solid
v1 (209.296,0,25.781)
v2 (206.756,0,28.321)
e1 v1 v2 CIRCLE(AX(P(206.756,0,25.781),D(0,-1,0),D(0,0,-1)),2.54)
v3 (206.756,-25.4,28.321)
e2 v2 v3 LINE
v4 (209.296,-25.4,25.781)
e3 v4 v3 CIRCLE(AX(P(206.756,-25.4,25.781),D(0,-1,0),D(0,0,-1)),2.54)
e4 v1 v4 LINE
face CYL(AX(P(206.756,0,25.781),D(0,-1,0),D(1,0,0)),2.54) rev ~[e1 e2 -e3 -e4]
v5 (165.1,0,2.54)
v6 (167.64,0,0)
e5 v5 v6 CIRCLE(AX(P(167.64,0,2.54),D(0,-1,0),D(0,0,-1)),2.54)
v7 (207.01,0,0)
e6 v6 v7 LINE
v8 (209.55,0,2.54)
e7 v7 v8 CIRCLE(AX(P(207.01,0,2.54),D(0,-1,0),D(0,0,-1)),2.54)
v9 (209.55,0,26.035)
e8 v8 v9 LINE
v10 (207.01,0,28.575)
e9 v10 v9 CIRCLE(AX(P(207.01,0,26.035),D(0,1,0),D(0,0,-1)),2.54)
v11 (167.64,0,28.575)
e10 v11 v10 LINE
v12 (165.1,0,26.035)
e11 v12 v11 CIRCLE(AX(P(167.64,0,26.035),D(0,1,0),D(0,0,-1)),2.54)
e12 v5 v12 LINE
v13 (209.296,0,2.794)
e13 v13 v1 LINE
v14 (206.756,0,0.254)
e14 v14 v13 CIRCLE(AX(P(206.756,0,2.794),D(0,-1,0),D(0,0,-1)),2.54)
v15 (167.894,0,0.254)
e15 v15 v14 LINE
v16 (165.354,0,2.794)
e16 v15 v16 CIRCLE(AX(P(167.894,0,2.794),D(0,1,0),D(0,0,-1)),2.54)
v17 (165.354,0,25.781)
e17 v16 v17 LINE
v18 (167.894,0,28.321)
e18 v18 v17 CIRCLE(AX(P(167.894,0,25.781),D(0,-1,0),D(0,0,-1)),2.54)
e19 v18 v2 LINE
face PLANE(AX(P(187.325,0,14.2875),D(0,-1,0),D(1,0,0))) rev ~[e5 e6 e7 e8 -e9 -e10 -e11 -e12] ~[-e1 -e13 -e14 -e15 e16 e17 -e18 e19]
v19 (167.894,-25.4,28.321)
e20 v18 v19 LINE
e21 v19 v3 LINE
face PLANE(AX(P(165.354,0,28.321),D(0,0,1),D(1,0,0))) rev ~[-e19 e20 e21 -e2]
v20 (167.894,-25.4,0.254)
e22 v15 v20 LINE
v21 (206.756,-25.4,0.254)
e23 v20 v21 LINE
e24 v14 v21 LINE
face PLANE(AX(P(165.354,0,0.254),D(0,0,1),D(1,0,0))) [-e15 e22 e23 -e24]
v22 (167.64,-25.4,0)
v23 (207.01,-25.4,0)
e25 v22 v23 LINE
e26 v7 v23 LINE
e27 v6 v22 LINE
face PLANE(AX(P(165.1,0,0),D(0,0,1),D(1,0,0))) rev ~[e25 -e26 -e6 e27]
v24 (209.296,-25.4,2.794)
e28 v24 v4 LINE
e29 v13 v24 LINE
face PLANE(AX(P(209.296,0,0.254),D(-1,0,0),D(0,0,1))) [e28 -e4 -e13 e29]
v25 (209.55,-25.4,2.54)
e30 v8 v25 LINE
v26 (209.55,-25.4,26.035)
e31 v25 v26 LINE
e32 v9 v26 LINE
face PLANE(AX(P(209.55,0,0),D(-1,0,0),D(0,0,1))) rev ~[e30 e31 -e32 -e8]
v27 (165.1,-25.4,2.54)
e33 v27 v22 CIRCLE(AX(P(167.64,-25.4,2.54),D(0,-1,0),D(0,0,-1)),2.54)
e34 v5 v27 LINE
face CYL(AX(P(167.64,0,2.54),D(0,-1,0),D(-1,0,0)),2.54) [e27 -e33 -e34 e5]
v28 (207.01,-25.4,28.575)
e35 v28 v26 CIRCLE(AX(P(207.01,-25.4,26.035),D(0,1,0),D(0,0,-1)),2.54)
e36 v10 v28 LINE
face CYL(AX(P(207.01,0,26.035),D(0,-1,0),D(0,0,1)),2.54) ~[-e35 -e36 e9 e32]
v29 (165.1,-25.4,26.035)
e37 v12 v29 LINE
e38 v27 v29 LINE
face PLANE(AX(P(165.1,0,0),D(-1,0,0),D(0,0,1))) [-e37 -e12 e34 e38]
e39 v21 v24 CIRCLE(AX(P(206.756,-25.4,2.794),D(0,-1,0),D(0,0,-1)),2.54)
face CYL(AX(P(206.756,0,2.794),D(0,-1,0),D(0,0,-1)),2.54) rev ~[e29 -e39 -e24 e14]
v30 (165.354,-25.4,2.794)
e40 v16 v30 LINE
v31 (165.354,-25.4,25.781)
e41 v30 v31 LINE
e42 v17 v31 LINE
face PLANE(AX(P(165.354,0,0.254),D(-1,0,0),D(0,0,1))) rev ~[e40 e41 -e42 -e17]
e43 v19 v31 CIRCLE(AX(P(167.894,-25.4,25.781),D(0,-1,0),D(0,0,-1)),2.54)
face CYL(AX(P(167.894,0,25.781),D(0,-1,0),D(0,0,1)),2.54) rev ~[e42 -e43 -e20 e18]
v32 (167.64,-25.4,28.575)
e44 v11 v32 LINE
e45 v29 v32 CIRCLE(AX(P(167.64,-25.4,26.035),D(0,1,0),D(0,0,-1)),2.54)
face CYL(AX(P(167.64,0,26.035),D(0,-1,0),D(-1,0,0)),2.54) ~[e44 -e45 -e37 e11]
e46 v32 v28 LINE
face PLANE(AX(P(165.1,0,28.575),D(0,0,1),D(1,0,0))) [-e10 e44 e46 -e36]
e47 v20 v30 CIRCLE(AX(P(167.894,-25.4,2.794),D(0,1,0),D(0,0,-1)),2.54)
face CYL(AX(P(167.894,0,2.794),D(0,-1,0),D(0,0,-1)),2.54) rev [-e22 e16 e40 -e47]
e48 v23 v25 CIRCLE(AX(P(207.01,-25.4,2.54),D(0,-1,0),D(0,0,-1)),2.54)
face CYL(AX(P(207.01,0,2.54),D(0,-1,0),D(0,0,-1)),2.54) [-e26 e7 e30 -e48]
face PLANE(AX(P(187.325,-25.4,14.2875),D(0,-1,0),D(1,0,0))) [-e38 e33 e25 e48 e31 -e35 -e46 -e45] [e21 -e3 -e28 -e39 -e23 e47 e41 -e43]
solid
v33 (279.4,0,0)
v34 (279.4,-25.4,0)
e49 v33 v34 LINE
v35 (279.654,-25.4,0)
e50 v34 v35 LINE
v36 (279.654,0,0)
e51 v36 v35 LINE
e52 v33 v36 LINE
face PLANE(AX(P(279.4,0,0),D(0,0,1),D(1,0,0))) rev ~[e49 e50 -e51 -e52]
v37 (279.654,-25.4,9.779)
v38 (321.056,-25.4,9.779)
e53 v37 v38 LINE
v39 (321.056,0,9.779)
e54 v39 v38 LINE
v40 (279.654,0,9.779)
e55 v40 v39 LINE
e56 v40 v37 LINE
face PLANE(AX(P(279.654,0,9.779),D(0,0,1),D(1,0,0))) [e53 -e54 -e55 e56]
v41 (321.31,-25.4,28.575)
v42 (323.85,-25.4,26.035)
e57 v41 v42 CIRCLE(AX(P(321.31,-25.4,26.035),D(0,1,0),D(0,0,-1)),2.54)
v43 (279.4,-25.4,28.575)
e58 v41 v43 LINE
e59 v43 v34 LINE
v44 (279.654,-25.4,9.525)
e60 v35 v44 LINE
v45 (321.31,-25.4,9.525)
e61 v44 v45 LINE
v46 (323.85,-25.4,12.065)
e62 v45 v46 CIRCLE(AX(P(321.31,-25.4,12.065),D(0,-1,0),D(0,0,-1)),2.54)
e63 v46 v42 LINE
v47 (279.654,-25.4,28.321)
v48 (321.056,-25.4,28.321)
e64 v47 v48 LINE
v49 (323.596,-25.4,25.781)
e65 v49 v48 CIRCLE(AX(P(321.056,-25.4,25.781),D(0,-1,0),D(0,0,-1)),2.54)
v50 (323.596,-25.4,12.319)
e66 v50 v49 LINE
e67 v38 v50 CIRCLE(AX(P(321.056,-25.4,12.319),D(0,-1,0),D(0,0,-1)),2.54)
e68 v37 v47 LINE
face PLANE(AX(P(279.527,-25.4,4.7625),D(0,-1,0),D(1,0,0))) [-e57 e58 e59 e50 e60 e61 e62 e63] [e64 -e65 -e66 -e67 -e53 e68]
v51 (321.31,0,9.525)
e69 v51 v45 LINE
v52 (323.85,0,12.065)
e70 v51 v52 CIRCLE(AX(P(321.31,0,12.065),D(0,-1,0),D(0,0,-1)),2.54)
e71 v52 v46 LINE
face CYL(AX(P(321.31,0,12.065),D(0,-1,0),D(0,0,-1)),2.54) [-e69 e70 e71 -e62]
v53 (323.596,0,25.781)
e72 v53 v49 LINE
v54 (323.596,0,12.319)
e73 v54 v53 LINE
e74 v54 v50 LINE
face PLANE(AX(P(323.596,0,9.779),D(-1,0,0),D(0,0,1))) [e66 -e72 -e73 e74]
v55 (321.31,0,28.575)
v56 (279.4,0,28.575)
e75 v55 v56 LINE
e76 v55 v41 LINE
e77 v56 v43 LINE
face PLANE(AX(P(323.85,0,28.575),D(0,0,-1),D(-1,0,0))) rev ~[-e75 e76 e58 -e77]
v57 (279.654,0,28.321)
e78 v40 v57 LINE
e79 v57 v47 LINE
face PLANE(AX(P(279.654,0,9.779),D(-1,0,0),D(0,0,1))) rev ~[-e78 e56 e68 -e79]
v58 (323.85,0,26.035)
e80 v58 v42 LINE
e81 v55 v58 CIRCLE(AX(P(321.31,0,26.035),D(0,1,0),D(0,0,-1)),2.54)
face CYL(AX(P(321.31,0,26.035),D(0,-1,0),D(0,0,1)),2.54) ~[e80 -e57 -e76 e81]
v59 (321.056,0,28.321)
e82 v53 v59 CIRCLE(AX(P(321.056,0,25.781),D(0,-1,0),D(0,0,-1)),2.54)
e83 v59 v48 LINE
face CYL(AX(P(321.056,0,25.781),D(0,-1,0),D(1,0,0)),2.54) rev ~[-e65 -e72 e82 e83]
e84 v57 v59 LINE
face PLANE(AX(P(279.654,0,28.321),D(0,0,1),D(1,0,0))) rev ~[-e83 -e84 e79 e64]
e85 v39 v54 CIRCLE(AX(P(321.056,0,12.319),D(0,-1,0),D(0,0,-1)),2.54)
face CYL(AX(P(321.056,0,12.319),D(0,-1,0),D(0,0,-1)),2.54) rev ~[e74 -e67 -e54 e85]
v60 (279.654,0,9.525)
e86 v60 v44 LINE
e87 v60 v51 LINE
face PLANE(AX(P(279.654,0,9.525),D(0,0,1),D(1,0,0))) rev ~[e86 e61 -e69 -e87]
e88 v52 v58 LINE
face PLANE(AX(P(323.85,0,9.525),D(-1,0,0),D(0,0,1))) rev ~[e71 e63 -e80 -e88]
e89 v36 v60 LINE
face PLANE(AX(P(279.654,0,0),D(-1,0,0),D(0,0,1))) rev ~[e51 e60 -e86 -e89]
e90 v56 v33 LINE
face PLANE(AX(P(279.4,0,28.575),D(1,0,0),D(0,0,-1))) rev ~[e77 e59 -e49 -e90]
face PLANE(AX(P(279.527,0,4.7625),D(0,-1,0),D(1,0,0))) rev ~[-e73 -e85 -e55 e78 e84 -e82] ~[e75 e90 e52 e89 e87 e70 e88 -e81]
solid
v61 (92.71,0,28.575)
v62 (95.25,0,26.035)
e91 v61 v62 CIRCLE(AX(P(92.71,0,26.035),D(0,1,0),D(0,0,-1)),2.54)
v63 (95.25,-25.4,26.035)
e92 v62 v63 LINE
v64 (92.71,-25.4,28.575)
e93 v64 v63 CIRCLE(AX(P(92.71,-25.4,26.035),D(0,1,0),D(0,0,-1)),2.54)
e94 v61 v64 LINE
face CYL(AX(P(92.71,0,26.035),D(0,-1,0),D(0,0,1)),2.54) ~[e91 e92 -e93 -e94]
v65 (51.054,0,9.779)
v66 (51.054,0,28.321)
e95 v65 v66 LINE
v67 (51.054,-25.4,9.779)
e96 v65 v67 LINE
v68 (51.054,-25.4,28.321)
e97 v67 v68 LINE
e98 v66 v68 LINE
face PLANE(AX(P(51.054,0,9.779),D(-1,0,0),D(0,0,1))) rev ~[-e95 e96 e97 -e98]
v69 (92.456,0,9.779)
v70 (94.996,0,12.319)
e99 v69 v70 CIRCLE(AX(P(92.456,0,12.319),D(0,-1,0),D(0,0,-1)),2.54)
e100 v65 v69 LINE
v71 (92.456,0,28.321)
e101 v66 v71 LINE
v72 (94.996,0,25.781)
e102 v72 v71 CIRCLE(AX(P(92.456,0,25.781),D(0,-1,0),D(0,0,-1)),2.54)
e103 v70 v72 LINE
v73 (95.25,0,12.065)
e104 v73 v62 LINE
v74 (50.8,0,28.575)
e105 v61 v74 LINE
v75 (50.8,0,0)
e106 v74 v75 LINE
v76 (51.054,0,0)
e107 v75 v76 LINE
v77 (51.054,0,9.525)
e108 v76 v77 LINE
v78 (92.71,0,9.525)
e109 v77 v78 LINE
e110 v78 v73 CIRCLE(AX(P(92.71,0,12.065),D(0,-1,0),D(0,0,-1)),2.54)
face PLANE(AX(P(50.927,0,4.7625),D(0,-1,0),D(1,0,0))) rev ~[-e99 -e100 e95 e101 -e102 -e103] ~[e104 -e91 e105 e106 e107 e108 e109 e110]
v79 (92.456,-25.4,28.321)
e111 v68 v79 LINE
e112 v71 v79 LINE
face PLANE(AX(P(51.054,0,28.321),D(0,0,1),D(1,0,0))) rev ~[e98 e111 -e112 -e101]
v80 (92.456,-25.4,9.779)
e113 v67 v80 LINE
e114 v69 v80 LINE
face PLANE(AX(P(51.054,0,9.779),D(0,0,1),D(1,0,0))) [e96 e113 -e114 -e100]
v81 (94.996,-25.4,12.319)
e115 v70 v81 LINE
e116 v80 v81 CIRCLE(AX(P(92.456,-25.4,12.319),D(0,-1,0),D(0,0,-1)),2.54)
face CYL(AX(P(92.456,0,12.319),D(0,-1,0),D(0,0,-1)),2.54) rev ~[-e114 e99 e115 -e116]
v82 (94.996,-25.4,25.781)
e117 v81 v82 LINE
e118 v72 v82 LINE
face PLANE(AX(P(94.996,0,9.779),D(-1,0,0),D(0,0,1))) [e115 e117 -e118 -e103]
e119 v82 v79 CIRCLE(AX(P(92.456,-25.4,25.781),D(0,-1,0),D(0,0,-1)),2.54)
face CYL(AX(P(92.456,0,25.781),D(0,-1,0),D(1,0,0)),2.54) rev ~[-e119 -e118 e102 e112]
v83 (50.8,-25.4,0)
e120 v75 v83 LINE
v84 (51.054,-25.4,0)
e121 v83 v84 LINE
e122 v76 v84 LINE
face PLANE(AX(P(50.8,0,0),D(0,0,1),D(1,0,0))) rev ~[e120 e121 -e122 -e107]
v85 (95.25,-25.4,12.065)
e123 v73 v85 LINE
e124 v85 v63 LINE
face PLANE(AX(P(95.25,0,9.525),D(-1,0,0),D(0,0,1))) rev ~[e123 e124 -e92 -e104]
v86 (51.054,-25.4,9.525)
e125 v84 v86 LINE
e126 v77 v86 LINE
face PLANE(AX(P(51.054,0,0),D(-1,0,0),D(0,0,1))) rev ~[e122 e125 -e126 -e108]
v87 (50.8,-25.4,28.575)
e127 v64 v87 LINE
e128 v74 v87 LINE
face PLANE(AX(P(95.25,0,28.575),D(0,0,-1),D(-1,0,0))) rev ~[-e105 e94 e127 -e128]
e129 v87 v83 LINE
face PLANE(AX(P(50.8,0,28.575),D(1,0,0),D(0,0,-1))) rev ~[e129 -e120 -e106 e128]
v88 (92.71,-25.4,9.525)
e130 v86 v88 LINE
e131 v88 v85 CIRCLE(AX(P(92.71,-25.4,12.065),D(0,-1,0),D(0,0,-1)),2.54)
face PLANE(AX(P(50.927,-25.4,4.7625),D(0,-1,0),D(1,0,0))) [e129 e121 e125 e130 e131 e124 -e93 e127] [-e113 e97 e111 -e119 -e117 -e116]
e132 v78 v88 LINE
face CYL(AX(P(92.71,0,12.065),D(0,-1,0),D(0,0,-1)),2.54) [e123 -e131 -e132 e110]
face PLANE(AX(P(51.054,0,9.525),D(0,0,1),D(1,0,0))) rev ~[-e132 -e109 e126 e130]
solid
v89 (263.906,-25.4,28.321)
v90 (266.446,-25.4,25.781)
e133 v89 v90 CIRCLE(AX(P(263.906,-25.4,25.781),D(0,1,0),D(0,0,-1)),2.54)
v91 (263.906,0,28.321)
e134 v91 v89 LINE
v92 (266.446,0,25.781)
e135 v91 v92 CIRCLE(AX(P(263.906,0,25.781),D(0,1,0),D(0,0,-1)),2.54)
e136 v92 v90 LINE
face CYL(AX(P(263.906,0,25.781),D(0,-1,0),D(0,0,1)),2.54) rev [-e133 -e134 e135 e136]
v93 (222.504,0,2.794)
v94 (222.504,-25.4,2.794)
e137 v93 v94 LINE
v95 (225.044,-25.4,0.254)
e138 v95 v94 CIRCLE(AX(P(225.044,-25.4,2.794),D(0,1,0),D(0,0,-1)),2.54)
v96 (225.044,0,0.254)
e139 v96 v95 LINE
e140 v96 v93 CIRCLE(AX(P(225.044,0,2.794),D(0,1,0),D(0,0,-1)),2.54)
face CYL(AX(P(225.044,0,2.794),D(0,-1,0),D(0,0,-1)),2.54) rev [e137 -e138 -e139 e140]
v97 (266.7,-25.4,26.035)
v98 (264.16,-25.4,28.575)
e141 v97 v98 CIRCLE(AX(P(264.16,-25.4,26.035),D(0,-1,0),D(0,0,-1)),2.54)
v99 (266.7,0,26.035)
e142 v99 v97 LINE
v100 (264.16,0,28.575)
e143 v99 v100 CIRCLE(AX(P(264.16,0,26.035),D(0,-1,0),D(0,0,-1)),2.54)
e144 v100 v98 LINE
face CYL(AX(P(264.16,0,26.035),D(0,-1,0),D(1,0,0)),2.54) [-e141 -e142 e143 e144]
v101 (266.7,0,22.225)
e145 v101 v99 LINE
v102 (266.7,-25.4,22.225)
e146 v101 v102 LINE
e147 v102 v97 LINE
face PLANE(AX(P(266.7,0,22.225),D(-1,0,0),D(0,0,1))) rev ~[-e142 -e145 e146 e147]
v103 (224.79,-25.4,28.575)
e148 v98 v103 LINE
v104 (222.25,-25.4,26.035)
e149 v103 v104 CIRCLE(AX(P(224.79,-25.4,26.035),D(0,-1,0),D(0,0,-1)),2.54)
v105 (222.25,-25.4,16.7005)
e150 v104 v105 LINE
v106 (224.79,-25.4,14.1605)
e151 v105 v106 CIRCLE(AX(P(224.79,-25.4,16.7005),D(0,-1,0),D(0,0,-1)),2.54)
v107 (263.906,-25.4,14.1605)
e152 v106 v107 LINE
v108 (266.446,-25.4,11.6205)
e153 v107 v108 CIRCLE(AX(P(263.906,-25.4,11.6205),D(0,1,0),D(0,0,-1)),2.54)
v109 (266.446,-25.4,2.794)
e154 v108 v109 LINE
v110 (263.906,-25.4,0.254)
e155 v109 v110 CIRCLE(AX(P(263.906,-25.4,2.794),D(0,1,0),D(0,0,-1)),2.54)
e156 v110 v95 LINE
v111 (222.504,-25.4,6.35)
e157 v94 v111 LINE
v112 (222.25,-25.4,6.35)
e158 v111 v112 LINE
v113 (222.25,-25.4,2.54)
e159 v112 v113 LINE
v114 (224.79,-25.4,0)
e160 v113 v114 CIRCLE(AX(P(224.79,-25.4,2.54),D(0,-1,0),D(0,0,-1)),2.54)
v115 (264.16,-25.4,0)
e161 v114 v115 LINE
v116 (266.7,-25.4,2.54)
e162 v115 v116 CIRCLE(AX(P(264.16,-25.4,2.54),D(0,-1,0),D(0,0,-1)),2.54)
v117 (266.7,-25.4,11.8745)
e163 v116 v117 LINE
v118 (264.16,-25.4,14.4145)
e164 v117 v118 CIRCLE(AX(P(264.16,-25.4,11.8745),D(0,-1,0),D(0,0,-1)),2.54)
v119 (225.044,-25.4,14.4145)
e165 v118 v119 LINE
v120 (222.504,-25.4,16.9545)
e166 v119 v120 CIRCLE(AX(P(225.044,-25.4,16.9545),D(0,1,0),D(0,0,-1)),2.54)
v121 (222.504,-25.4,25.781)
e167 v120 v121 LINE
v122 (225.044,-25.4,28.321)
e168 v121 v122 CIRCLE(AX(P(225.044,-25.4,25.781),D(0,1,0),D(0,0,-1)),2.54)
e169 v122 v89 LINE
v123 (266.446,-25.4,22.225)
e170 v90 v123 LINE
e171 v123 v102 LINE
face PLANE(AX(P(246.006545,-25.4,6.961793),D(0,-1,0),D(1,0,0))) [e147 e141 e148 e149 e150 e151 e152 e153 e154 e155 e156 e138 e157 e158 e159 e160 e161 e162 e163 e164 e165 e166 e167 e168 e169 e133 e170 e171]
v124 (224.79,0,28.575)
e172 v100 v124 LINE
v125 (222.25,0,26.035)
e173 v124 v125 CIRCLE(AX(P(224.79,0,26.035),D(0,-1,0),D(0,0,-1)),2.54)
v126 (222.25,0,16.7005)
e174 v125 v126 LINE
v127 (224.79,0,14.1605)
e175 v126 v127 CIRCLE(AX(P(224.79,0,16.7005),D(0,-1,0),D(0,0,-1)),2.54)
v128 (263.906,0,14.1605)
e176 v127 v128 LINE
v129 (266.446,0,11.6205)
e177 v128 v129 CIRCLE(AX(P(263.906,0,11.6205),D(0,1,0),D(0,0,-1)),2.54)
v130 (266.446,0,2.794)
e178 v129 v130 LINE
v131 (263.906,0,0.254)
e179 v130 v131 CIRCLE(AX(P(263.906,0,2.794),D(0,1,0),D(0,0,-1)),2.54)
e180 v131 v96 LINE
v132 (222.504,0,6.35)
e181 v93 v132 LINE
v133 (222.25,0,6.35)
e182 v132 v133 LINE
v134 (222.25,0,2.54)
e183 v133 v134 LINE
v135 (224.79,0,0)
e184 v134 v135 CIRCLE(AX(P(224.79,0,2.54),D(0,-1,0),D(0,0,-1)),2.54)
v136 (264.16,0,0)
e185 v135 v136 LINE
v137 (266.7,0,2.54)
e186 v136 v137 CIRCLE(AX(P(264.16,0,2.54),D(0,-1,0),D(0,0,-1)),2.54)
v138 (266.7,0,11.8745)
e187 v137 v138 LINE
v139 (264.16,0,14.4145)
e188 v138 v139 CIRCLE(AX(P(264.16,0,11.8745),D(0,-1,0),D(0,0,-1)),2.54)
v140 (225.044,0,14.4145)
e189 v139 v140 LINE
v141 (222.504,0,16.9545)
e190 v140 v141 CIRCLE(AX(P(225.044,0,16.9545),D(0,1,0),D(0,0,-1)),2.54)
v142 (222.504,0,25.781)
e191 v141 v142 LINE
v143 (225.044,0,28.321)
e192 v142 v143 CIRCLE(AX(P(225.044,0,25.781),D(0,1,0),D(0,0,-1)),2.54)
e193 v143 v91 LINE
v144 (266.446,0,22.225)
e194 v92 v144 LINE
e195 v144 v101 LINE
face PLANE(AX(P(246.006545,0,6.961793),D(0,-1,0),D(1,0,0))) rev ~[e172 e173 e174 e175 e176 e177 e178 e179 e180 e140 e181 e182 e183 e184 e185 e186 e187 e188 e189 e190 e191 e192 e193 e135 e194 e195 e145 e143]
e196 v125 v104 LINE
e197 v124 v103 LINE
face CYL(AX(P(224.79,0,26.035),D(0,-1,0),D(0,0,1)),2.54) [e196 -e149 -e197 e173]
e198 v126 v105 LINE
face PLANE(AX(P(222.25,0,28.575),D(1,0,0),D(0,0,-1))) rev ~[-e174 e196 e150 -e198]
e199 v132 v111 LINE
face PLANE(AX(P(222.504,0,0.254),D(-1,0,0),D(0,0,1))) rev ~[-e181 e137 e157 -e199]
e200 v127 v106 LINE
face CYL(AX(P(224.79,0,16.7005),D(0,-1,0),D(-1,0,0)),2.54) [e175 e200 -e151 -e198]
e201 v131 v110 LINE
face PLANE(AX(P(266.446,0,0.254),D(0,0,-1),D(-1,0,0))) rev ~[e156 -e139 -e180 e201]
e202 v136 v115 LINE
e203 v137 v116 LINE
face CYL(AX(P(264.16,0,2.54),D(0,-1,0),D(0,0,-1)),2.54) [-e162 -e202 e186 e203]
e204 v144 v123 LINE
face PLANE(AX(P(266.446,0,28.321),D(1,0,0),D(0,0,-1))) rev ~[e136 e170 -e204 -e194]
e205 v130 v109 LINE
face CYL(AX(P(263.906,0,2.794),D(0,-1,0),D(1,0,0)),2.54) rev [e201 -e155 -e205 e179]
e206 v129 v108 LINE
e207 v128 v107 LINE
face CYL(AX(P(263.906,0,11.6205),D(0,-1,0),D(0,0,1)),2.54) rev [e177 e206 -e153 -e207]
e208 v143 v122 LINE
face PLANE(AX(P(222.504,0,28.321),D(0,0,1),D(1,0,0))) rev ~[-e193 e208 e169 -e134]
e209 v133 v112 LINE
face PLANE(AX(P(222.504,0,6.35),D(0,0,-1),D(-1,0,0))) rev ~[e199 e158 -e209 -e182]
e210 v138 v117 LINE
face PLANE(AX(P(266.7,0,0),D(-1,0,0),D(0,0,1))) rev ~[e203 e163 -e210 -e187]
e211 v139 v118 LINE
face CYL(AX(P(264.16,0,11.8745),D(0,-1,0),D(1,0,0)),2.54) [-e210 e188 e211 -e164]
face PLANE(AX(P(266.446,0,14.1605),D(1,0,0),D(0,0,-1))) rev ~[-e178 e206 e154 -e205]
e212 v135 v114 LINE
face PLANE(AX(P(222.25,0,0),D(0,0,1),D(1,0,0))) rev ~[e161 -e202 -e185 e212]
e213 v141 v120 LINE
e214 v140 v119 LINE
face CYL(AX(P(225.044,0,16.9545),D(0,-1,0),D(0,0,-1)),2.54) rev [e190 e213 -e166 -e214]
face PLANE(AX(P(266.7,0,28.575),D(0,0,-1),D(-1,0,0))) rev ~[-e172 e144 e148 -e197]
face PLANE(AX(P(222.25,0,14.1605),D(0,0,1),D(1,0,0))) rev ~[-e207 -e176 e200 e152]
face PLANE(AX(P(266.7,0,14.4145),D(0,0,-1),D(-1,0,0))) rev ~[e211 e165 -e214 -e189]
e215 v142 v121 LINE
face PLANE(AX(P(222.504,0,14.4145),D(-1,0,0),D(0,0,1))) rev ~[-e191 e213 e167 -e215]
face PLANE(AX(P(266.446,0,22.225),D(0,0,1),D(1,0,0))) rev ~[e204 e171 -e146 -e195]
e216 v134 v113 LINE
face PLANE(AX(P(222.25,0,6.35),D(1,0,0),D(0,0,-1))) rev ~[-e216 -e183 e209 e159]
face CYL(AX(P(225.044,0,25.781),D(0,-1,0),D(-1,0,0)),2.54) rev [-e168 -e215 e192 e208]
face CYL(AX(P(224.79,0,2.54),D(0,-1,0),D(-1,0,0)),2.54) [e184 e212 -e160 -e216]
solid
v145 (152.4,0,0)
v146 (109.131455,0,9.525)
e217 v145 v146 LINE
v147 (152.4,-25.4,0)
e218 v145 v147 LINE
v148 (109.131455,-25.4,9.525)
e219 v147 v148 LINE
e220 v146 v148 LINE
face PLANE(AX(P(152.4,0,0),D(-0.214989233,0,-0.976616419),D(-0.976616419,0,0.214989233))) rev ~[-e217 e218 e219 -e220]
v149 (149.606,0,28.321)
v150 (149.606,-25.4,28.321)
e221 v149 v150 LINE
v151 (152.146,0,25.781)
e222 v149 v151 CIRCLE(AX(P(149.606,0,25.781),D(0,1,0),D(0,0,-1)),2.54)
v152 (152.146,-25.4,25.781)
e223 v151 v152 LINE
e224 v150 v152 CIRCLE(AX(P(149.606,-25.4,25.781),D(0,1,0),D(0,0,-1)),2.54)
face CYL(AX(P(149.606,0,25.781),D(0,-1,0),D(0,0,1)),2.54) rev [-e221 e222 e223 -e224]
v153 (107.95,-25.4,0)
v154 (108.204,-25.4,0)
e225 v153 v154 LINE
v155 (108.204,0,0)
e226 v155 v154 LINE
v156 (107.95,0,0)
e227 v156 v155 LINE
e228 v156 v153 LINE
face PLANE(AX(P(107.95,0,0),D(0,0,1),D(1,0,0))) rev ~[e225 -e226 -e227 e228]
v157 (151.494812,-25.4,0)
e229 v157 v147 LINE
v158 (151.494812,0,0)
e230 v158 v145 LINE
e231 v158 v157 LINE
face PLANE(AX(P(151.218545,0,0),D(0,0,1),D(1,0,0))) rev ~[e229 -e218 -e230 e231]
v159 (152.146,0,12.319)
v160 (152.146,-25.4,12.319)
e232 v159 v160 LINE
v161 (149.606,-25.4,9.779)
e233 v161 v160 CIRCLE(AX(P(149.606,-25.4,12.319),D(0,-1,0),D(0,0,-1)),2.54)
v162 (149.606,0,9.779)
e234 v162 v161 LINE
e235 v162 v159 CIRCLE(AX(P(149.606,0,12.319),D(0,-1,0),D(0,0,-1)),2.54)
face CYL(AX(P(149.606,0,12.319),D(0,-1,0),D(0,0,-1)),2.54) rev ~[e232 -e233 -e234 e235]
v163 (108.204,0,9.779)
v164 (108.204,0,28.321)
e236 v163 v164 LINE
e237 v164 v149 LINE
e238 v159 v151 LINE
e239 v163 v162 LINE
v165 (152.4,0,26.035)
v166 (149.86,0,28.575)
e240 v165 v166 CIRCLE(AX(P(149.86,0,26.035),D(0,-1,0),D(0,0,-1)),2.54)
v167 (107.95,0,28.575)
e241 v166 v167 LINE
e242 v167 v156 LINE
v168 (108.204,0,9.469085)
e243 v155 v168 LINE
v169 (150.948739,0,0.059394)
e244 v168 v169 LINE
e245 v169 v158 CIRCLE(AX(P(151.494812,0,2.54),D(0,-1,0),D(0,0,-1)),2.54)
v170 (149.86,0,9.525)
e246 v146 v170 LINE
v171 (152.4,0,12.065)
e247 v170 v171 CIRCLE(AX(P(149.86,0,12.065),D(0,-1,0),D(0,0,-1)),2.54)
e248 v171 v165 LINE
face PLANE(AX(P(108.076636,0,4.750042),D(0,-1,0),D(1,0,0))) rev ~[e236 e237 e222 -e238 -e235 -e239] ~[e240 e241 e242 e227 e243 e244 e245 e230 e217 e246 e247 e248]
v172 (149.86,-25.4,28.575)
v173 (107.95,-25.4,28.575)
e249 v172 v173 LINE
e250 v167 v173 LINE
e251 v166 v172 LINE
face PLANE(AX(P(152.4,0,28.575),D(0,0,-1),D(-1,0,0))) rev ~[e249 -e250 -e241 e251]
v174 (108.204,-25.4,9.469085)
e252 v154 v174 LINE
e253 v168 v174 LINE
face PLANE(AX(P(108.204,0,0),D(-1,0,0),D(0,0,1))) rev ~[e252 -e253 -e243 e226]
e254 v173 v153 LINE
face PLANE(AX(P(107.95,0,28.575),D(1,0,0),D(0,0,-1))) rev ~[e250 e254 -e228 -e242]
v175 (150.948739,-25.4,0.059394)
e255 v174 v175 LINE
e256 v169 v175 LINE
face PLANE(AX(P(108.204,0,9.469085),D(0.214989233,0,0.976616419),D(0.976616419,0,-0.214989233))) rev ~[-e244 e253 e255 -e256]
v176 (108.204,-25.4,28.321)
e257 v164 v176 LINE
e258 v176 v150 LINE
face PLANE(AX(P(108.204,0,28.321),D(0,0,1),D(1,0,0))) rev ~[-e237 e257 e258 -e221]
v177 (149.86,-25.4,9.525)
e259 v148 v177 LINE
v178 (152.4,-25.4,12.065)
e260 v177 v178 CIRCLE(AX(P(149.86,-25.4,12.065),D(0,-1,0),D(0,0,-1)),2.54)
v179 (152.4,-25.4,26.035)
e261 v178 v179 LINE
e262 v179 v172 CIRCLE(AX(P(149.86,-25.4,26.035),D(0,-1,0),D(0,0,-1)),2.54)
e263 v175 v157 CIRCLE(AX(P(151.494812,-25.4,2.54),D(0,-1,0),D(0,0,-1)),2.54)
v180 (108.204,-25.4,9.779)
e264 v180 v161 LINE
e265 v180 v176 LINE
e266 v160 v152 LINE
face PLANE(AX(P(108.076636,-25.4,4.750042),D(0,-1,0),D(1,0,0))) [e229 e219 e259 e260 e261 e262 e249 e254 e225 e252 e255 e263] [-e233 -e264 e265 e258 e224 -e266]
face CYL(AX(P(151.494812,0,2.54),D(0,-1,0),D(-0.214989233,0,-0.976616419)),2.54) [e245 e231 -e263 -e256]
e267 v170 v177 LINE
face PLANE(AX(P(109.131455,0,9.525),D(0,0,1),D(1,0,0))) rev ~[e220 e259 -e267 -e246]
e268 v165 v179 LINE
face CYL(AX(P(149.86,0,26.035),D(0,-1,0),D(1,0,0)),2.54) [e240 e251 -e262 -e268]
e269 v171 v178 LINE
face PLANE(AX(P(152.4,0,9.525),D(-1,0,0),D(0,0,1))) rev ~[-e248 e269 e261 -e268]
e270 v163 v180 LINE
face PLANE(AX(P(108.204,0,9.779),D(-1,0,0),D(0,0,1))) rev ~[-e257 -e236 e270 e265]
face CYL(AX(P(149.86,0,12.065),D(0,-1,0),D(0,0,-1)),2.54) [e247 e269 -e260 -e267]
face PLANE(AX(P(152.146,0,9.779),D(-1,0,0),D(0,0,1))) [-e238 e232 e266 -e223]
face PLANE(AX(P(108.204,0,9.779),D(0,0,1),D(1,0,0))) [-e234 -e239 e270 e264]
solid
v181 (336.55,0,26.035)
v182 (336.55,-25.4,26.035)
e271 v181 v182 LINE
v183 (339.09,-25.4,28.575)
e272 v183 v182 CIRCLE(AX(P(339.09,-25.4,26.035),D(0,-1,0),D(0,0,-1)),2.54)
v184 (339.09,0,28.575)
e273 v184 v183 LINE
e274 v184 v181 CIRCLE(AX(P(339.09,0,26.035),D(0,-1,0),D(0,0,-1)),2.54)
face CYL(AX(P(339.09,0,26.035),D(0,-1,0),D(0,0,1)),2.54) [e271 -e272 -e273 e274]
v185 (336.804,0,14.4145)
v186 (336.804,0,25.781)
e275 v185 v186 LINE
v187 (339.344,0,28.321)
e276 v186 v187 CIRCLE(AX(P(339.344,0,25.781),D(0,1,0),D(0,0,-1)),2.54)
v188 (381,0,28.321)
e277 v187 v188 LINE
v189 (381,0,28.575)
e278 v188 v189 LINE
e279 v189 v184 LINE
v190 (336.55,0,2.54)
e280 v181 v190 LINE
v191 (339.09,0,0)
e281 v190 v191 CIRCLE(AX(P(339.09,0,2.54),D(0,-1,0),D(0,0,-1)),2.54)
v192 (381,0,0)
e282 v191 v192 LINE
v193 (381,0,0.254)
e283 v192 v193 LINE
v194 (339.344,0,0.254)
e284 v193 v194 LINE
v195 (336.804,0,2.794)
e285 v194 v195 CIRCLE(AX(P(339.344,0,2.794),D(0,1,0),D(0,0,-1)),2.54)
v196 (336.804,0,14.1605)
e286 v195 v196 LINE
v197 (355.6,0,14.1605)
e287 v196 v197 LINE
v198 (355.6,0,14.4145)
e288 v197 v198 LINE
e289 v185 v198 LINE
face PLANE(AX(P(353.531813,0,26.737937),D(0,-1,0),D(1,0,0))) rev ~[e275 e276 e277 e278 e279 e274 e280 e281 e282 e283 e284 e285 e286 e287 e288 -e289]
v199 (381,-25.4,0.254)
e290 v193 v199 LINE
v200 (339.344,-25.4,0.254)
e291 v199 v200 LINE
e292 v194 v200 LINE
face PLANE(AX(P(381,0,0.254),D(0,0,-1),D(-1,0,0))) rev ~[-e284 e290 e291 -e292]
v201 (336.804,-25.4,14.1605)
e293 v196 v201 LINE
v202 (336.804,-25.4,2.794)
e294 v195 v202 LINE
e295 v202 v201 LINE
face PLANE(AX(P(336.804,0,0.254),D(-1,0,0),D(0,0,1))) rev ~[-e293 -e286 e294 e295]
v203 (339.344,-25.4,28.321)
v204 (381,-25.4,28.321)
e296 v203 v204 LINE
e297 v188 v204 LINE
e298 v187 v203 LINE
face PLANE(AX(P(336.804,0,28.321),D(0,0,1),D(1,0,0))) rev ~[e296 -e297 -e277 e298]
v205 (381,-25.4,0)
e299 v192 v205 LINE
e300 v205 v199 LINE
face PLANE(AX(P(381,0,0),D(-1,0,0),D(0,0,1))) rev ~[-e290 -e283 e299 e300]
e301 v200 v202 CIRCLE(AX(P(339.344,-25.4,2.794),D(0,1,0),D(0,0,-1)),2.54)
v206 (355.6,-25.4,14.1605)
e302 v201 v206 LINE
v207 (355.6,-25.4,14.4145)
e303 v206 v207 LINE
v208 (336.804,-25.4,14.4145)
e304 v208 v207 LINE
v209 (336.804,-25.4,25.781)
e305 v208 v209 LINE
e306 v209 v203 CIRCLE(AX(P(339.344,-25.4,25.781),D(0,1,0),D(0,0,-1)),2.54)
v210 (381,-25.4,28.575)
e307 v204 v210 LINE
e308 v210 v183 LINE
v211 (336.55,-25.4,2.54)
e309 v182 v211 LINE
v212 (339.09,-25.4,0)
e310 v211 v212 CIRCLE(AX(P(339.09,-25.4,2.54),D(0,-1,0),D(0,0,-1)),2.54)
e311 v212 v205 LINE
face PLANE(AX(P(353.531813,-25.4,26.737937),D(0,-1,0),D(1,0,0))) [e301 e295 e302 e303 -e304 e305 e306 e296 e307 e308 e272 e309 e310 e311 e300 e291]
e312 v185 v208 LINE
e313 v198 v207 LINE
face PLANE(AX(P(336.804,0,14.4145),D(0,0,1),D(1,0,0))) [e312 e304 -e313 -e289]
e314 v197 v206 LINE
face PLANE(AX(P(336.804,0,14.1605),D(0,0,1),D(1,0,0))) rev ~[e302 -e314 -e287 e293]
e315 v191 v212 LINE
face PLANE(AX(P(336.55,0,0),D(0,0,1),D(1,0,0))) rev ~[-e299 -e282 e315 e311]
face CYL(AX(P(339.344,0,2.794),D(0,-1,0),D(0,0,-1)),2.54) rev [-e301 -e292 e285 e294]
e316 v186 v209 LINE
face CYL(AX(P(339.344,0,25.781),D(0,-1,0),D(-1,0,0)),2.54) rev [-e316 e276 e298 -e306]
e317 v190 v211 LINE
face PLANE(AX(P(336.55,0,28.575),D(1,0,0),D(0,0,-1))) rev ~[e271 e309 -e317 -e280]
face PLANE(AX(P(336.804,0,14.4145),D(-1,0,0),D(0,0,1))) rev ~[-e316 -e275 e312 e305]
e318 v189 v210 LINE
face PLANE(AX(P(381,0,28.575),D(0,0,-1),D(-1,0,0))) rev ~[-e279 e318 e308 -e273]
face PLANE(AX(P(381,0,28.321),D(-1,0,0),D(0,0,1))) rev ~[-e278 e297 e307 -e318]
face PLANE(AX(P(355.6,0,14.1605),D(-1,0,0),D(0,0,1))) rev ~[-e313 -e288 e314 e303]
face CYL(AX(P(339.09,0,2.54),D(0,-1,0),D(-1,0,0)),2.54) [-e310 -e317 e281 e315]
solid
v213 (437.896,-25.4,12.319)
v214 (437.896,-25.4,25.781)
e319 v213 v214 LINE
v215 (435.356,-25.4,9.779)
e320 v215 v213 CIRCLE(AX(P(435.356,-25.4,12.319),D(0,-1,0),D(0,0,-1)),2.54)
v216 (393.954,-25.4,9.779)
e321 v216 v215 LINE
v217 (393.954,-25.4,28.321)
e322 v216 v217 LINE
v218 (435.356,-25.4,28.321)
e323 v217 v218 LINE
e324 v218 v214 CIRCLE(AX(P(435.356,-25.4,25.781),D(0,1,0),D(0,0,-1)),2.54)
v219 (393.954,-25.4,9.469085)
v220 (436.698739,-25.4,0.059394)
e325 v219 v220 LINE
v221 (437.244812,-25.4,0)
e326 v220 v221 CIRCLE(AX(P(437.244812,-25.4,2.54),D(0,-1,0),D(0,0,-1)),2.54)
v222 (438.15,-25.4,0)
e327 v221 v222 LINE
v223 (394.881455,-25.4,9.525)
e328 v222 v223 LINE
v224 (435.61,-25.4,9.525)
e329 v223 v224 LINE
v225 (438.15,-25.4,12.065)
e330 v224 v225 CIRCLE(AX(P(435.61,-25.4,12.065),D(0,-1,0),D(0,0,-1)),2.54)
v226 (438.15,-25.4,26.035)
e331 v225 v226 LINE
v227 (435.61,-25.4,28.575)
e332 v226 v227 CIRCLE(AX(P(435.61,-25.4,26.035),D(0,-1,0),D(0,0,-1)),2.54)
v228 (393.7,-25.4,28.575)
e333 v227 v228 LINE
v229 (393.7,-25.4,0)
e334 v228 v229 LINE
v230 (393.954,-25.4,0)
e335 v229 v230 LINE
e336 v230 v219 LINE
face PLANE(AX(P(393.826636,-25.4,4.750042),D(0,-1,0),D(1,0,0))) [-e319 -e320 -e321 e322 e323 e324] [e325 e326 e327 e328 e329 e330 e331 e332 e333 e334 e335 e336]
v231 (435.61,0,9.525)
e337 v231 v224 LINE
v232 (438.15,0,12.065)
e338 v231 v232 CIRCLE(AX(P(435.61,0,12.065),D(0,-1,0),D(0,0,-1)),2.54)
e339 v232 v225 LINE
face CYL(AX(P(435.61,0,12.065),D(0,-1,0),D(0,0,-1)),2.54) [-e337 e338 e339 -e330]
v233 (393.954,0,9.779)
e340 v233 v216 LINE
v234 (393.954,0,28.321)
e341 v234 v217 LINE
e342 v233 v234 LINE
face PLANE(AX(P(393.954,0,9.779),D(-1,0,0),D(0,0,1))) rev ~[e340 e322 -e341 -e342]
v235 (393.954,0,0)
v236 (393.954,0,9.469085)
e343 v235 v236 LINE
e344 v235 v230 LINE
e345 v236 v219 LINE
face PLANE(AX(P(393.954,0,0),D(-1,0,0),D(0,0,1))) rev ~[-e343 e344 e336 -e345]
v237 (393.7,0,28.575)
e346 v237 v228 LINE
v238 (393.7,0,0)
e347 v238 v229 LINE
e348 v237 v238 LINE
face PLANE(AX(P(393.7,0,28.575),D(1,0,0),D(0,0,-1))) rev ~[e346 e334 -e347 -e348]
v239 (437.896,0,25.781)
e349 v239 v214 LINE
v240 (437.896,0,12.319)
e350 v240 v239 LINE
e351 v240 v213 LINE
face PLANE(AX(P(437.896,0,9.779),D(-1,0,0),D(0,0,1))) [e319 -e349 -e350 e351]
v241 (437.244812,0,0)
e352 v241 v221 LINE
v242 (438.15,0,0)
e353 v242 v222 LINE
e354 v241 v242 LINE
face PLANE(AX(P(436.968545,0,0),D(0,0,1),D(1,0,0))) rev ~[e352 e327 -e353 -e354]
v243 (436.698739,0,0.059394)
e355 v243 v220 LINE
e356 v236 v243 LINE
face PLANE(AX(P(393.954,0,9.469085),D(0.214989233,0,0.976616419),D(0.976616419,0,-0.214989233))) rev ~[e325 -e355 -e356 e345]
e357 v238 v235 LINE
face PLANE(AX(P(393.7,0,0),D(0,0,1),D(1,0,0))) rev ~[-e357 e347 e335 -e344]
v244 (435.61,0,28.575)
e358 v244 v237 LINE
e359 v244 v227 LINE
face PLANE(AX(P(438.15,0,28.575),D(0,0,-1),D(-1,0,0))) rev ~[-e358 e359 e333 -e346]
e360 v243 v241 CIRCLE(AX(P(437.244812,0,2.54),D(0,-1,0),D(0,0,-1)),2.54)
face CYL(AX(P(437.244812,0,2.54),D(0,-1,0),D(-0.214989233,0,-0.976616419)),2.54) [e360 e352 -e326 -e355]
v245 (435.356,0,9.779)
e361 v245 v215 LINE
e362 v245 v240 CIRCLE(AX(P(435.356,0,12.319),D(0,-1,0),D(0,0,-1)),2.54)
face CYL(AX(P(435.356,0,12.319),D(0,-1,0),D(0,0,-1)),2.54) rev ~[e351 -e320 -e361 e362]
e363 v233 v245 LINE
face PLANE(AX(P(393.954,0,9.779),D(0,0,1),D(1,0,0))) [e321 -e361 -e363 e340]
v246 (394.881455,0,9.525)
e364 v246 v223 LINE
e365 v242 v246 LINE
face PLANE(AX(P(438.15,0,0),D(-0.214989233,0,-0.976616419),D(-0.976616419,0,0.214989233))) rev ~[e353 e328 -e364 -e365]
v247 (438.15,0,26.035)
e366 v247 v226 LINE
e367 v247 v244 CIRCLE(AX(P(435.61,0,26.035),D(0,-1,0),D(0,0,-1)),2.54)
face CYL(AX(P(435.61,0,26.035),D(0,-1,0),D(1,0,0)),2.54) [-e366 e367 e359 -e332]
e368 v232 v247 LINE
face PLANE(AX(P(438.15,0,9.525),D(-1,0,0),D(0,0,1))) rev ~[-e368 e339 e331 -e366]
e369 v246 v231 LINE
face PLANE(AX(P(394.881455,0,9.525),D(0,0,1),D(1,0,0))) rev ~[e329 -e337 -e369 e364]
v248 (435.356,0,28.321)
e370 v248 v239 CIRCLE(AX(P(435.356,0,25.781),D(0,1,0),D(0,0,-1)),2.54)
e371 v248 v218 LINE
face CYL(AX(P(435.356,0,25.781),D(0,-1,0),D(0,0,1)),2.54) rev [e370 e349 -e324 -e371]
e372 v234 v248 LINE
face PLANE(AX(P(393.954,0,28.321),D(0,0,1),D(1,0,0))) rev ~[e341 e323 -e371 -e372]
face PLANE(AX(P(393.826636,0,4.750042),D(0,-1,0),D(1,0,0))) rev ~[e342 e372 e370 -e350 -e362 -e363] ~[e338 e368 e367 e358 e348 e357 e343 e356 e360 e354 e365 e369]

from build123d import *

# Parameters (mm, degrees)
F0_W     = 0.254
F0_H     = 9.525
F0_H_2   = 0.254
F0_W_2   = 43.942
F0_H_3   = 18.542
F1_DEPTH = 25.4
F0_W_3   = 44.45
F0_H_4   = 28.575
F0_H_5   = 28.067
F0_H_6   = 0.127
F0_W_4   = 18.796
F2_R     = 2.54
F2_2_R   = 2.54
F2_3_R   = 2.54
F2_4_R   = 2.54
F2_5_R   = 2.54
F2_6_R   = 2.54
F2_7_R   = 2.54


with BuildPart() as f1:
    # F0 (on Front) → F1 (new body)
    with BuildSketch(Plane.XZ):
        with Locations((50.927, 4.7625)):
            Rectangle(F0_W, F0_H)
        with Locations((50.927, 9.652)):
            Rectangle(F0_W, F0_H_2)
        Polygon((50.8, 28.575), (50.8, 9.779), (51.054, 9.779), (51.054, 9.525), (95.25, 9.525), (95.25, 28.575), align=None)
        with Locations((73.025, 19.05)):
            Rectangle(F0_W_2, F0_H_3, mode=Mode.SUBTRACT)
    extrude(amount=F1_DEPTH)

    # F2#2
    f2_2_edges = [f1.edges().sort_by_distance(p)[0] for p in [
        (94.996, -12.7, 28.321),
        (94.996, -12.7, 9.779),
        (95.25, -12.7, 28.575),
        (95.25, -12.7, 9.525),
    ]]
    fillet(f2_2_edges, radius=F2_2_R)


with BuildPart() as f1b:
    # F0 (on Front) → F1, piece 2 (new body)
    with BuildSketch(Plane.XZ):
        Polygon((107.95, 9.525), (107.95, 0), (108.204, 0), (108.204, 9.4690852478), align=None)
        with Locations((108.077, 9.652)):
            Rectangle(F0_W, F0_H_2)
        Polygon((108.204, 9.525), (107.95, 9.525), (108.204, 9.4690852478), align=None)
        Polygon((107.95, 28.575), (107.95, 9.779), (108.204, 9.779), (108.204, 9.525), (109.131454517, 9.525), (152.4, 9.525), (152.4, 28.575), align=None)
        with Locations((130.175, 19.05)):
            Rectangle(F0_W_2, F0_H_3, mode=Mode.SUBTRACT)
        Polygon((109.131454517, 9.525), (108.204, 9.525), (108.204, 9.4690852478), (151.218545483, 0), (152.4, 0), align=None)
    extrude(amount=F1_DEPTH)

    # F2
    f2_edges = [f1b.edges().sort_by_distance(p)[0] for p in [
        (152.4, -12.7, 9.525),
        (151.218545, -12.7, 0),
        (152.4, -12.7, 28.575),
        (152.146, -12.7, 28.321),
        (152.146, -12.7, 9.779),
    ]]
    fillet(f2_edges, radius=F2_R)


with BuildPart() as f1c:
    # F0 (on Front) → F1, piece 3 (new body)
    with BuildSketch(Plane.XZ):
        with Locations((187.325, 14.2875)):
            Rectangle(F0_W_3, F0_H_4)
        with Locations((187.325, 14.2875)):
            Rectangle(F0_W_2, F0_H_5, mode=Mode.SUBTRACT)
    extrude(amount=F1_DEPTH)

    # F2#3
    f2_3_edges = [f1c.edges().sort_by_distance(p)[0] for p in [
        (209.296, -12.7, 0.254),
        (165.354, -12.7, 0.254),
        (209.55, -12.7, 28.575),
        (209.55, -12.7, 0),
        (165.1, -12.7, 28.575),
        (165.354, -12.7, 28.321),
        (165.1, -12.7, 0),
        (209.296, -12.7, 28.321),
    ]]
    fillet(f2_3_edges, radius=F2_3_R)


with BuildPart() as f1d:
    # F0 (on Front) → F1, piece 4 (new body)
    with BuildSketch(Plane.XZ):
        Polygon((222.504, 6.35), (222.25, 6.35), (222.25, 0), (266.7, 0), (266.7, 14.2875), (222.25, 14.2875), (222.25, 14.1605), (266.446, 14.1605), (266.446, 0.254), (222.504, 0.254), align=None)
        Polygon((222.25, 14.2875), (266.7, 14.2875), (266.7, 14.4145), (222.504, 14.4145), (222.504, 28.321), (266.446, 28.321), (266.446, 22.225), (266.7, 22.225), (266.7, 28.575), (222.25, 28.575), align=None)
    extrude(amount=F1_DEPTH)

    # F2#4
    f2_4_edges = [f1d.edges().sort_by_distance(p)[0] for p in [
        (222.504, -12.7, 0.254),
        (266.446, -12.7, 14.1605),
        (266.446, -12.7, 28.321),
        (266.446, -12.7, 0.254),
        (222.504, -12.7, 14.4145),
        (222.504, -12.7, 28.321),
        (222.25, -12.7, 28.575),
        (222.25, -12.7, 14.1605),
        (222.25, -12.7, 0),
        (266.7, -12.7, 14.4145),
        (266.7, -12.7, 0),
        (266.7, -12.7, 28.575),
    ]]
    fillet(f2_4_edges, radius=F2_4_R)


with BuildPart() as f1e:
    # F0 (on Front) → F1, piece 5 (new body)
    with BuildSketch(Plane.XZ):
        with Locations((279.527, 4.7625)):
            Rectangle(F0_W, F0_H)
        with Locations((279.527, 9.652)):
            Rectangle(F0_W, F0_H_2)
        Polygon((279.4, 28.575), (279.4, 9.779), (279.654, 9.779), (279.654, 9.525), (323.85, 9.525), (323.85, 28.575), align=None)
        with Locations((301.625, 19.05)):
            Rectangle(F0_W_2, F0_H_3, mode=Mode.SUBTRACT)
    extrude(amount=F1_DEPTH)

    # F2#5
    f2_5_edges = [f1e.edges().sort_by_distance(p)[0] for p in [
        (323.596, -12.7, 9.779),
        (323.596, -12.7, 28.321),
        (323.85, -12.7, 9.525),
        (323.85, -12.7, 28.575),
    ]]
    fillet(f2_5_edges, radius=F2_5_R)


with BuildPart() as f1f:
    # F0 (on Front) → F1, piece 6 (new body)
    with BuildSketch(Plane.XZ):
        Polygon((381, 28.575), (336.55, 28.575), (336.55, 14.4145), (336.804, 14.4145), (336.804, 28.321), (381, 28.321), align=None)
        with Locations((336.677, 14.351)):
            Rectangle(F0_W, F0_H_6)
        with Locations((336.677, 14.224)):
            Rectangle(F0_W, F0_H_6)
        with Locations((346.202, 14.351)):
            Rectangle(F0_W_4, F0_H_6)
        Polygon((336.804, 14.1605), (336.55, 14.1605), (336.55, 0), (381, 0), (381, 0.254), (336.804, 0.254), align=None)
        with Locations((346.202, 14.224)):
            Rectangle(F0_W_4, F0_H_6)
    extrude(amount=F1_DEPTH)

    # F2#6
    f2_6_edges = [f1f.edges().sort_by_distance(p)[0] for p in [
        (336.804, -12.7, 0.254),
        (336.55, -12.7, 28.575),
        (336.804, -12.7, 28.321),
        (336.55, -12.7, 0),
    ]]
    fillet(f2_6_edges, radius=F2_6_R)


with BuildPart() as f1g:
    # F0 (on Front) → F1, piece 7 (new body)
    with BuildSketch(Plane.XZ):
        Polygon((393.7, 9.525), (393.7, 0), (393.954, 0), (393.954, 9.4690852478), align=None)
        with Locations((393.827, 9.652)):
            Rectangle(F0_W, F0_H_2)
        Polygon((393.954, 9.525), (393.7, 9.525), (393.954, 9.4690852478), align=None)
        Polygon((393.7, 28.575), (393.7, 9.779), (393.954, 9.779), (393.954, 9.525), (394.881454517, 9.525), (438.15, 9.525), (438.15, 28.575), align=None)
        with Locations((415.925, 19.05)):
            Rectangle(F0_W_2, F0_H_3, mode=Mode.SUBTRACT)
        Polygon((394.881454517, 9.525), (393.954, 9.525), (393.954, 9.4690852478), (436.968545483, 0), (438.15, 0), align=None)
    extrude(amount=F1_DEPTH)

    # F2#7
    f2_7_edges = [f1g.edges().sort_by_distance(p)[0] for p in [
        (438.15, -12.7, 28.575),
        (437.896, -12.7, 28.321),
        (438.15, -12.7, 9.525),
        (436.968545, -12.7, 0),
        (437.896, -12.7, 9.779),
    ]]
    fillet(f2_7_edges, radius=F2_7_R)


solid = Compound([f1.part, f1b.part, f1c.part, f1d.part, f1e.part, f1f.part, f1g.part])
